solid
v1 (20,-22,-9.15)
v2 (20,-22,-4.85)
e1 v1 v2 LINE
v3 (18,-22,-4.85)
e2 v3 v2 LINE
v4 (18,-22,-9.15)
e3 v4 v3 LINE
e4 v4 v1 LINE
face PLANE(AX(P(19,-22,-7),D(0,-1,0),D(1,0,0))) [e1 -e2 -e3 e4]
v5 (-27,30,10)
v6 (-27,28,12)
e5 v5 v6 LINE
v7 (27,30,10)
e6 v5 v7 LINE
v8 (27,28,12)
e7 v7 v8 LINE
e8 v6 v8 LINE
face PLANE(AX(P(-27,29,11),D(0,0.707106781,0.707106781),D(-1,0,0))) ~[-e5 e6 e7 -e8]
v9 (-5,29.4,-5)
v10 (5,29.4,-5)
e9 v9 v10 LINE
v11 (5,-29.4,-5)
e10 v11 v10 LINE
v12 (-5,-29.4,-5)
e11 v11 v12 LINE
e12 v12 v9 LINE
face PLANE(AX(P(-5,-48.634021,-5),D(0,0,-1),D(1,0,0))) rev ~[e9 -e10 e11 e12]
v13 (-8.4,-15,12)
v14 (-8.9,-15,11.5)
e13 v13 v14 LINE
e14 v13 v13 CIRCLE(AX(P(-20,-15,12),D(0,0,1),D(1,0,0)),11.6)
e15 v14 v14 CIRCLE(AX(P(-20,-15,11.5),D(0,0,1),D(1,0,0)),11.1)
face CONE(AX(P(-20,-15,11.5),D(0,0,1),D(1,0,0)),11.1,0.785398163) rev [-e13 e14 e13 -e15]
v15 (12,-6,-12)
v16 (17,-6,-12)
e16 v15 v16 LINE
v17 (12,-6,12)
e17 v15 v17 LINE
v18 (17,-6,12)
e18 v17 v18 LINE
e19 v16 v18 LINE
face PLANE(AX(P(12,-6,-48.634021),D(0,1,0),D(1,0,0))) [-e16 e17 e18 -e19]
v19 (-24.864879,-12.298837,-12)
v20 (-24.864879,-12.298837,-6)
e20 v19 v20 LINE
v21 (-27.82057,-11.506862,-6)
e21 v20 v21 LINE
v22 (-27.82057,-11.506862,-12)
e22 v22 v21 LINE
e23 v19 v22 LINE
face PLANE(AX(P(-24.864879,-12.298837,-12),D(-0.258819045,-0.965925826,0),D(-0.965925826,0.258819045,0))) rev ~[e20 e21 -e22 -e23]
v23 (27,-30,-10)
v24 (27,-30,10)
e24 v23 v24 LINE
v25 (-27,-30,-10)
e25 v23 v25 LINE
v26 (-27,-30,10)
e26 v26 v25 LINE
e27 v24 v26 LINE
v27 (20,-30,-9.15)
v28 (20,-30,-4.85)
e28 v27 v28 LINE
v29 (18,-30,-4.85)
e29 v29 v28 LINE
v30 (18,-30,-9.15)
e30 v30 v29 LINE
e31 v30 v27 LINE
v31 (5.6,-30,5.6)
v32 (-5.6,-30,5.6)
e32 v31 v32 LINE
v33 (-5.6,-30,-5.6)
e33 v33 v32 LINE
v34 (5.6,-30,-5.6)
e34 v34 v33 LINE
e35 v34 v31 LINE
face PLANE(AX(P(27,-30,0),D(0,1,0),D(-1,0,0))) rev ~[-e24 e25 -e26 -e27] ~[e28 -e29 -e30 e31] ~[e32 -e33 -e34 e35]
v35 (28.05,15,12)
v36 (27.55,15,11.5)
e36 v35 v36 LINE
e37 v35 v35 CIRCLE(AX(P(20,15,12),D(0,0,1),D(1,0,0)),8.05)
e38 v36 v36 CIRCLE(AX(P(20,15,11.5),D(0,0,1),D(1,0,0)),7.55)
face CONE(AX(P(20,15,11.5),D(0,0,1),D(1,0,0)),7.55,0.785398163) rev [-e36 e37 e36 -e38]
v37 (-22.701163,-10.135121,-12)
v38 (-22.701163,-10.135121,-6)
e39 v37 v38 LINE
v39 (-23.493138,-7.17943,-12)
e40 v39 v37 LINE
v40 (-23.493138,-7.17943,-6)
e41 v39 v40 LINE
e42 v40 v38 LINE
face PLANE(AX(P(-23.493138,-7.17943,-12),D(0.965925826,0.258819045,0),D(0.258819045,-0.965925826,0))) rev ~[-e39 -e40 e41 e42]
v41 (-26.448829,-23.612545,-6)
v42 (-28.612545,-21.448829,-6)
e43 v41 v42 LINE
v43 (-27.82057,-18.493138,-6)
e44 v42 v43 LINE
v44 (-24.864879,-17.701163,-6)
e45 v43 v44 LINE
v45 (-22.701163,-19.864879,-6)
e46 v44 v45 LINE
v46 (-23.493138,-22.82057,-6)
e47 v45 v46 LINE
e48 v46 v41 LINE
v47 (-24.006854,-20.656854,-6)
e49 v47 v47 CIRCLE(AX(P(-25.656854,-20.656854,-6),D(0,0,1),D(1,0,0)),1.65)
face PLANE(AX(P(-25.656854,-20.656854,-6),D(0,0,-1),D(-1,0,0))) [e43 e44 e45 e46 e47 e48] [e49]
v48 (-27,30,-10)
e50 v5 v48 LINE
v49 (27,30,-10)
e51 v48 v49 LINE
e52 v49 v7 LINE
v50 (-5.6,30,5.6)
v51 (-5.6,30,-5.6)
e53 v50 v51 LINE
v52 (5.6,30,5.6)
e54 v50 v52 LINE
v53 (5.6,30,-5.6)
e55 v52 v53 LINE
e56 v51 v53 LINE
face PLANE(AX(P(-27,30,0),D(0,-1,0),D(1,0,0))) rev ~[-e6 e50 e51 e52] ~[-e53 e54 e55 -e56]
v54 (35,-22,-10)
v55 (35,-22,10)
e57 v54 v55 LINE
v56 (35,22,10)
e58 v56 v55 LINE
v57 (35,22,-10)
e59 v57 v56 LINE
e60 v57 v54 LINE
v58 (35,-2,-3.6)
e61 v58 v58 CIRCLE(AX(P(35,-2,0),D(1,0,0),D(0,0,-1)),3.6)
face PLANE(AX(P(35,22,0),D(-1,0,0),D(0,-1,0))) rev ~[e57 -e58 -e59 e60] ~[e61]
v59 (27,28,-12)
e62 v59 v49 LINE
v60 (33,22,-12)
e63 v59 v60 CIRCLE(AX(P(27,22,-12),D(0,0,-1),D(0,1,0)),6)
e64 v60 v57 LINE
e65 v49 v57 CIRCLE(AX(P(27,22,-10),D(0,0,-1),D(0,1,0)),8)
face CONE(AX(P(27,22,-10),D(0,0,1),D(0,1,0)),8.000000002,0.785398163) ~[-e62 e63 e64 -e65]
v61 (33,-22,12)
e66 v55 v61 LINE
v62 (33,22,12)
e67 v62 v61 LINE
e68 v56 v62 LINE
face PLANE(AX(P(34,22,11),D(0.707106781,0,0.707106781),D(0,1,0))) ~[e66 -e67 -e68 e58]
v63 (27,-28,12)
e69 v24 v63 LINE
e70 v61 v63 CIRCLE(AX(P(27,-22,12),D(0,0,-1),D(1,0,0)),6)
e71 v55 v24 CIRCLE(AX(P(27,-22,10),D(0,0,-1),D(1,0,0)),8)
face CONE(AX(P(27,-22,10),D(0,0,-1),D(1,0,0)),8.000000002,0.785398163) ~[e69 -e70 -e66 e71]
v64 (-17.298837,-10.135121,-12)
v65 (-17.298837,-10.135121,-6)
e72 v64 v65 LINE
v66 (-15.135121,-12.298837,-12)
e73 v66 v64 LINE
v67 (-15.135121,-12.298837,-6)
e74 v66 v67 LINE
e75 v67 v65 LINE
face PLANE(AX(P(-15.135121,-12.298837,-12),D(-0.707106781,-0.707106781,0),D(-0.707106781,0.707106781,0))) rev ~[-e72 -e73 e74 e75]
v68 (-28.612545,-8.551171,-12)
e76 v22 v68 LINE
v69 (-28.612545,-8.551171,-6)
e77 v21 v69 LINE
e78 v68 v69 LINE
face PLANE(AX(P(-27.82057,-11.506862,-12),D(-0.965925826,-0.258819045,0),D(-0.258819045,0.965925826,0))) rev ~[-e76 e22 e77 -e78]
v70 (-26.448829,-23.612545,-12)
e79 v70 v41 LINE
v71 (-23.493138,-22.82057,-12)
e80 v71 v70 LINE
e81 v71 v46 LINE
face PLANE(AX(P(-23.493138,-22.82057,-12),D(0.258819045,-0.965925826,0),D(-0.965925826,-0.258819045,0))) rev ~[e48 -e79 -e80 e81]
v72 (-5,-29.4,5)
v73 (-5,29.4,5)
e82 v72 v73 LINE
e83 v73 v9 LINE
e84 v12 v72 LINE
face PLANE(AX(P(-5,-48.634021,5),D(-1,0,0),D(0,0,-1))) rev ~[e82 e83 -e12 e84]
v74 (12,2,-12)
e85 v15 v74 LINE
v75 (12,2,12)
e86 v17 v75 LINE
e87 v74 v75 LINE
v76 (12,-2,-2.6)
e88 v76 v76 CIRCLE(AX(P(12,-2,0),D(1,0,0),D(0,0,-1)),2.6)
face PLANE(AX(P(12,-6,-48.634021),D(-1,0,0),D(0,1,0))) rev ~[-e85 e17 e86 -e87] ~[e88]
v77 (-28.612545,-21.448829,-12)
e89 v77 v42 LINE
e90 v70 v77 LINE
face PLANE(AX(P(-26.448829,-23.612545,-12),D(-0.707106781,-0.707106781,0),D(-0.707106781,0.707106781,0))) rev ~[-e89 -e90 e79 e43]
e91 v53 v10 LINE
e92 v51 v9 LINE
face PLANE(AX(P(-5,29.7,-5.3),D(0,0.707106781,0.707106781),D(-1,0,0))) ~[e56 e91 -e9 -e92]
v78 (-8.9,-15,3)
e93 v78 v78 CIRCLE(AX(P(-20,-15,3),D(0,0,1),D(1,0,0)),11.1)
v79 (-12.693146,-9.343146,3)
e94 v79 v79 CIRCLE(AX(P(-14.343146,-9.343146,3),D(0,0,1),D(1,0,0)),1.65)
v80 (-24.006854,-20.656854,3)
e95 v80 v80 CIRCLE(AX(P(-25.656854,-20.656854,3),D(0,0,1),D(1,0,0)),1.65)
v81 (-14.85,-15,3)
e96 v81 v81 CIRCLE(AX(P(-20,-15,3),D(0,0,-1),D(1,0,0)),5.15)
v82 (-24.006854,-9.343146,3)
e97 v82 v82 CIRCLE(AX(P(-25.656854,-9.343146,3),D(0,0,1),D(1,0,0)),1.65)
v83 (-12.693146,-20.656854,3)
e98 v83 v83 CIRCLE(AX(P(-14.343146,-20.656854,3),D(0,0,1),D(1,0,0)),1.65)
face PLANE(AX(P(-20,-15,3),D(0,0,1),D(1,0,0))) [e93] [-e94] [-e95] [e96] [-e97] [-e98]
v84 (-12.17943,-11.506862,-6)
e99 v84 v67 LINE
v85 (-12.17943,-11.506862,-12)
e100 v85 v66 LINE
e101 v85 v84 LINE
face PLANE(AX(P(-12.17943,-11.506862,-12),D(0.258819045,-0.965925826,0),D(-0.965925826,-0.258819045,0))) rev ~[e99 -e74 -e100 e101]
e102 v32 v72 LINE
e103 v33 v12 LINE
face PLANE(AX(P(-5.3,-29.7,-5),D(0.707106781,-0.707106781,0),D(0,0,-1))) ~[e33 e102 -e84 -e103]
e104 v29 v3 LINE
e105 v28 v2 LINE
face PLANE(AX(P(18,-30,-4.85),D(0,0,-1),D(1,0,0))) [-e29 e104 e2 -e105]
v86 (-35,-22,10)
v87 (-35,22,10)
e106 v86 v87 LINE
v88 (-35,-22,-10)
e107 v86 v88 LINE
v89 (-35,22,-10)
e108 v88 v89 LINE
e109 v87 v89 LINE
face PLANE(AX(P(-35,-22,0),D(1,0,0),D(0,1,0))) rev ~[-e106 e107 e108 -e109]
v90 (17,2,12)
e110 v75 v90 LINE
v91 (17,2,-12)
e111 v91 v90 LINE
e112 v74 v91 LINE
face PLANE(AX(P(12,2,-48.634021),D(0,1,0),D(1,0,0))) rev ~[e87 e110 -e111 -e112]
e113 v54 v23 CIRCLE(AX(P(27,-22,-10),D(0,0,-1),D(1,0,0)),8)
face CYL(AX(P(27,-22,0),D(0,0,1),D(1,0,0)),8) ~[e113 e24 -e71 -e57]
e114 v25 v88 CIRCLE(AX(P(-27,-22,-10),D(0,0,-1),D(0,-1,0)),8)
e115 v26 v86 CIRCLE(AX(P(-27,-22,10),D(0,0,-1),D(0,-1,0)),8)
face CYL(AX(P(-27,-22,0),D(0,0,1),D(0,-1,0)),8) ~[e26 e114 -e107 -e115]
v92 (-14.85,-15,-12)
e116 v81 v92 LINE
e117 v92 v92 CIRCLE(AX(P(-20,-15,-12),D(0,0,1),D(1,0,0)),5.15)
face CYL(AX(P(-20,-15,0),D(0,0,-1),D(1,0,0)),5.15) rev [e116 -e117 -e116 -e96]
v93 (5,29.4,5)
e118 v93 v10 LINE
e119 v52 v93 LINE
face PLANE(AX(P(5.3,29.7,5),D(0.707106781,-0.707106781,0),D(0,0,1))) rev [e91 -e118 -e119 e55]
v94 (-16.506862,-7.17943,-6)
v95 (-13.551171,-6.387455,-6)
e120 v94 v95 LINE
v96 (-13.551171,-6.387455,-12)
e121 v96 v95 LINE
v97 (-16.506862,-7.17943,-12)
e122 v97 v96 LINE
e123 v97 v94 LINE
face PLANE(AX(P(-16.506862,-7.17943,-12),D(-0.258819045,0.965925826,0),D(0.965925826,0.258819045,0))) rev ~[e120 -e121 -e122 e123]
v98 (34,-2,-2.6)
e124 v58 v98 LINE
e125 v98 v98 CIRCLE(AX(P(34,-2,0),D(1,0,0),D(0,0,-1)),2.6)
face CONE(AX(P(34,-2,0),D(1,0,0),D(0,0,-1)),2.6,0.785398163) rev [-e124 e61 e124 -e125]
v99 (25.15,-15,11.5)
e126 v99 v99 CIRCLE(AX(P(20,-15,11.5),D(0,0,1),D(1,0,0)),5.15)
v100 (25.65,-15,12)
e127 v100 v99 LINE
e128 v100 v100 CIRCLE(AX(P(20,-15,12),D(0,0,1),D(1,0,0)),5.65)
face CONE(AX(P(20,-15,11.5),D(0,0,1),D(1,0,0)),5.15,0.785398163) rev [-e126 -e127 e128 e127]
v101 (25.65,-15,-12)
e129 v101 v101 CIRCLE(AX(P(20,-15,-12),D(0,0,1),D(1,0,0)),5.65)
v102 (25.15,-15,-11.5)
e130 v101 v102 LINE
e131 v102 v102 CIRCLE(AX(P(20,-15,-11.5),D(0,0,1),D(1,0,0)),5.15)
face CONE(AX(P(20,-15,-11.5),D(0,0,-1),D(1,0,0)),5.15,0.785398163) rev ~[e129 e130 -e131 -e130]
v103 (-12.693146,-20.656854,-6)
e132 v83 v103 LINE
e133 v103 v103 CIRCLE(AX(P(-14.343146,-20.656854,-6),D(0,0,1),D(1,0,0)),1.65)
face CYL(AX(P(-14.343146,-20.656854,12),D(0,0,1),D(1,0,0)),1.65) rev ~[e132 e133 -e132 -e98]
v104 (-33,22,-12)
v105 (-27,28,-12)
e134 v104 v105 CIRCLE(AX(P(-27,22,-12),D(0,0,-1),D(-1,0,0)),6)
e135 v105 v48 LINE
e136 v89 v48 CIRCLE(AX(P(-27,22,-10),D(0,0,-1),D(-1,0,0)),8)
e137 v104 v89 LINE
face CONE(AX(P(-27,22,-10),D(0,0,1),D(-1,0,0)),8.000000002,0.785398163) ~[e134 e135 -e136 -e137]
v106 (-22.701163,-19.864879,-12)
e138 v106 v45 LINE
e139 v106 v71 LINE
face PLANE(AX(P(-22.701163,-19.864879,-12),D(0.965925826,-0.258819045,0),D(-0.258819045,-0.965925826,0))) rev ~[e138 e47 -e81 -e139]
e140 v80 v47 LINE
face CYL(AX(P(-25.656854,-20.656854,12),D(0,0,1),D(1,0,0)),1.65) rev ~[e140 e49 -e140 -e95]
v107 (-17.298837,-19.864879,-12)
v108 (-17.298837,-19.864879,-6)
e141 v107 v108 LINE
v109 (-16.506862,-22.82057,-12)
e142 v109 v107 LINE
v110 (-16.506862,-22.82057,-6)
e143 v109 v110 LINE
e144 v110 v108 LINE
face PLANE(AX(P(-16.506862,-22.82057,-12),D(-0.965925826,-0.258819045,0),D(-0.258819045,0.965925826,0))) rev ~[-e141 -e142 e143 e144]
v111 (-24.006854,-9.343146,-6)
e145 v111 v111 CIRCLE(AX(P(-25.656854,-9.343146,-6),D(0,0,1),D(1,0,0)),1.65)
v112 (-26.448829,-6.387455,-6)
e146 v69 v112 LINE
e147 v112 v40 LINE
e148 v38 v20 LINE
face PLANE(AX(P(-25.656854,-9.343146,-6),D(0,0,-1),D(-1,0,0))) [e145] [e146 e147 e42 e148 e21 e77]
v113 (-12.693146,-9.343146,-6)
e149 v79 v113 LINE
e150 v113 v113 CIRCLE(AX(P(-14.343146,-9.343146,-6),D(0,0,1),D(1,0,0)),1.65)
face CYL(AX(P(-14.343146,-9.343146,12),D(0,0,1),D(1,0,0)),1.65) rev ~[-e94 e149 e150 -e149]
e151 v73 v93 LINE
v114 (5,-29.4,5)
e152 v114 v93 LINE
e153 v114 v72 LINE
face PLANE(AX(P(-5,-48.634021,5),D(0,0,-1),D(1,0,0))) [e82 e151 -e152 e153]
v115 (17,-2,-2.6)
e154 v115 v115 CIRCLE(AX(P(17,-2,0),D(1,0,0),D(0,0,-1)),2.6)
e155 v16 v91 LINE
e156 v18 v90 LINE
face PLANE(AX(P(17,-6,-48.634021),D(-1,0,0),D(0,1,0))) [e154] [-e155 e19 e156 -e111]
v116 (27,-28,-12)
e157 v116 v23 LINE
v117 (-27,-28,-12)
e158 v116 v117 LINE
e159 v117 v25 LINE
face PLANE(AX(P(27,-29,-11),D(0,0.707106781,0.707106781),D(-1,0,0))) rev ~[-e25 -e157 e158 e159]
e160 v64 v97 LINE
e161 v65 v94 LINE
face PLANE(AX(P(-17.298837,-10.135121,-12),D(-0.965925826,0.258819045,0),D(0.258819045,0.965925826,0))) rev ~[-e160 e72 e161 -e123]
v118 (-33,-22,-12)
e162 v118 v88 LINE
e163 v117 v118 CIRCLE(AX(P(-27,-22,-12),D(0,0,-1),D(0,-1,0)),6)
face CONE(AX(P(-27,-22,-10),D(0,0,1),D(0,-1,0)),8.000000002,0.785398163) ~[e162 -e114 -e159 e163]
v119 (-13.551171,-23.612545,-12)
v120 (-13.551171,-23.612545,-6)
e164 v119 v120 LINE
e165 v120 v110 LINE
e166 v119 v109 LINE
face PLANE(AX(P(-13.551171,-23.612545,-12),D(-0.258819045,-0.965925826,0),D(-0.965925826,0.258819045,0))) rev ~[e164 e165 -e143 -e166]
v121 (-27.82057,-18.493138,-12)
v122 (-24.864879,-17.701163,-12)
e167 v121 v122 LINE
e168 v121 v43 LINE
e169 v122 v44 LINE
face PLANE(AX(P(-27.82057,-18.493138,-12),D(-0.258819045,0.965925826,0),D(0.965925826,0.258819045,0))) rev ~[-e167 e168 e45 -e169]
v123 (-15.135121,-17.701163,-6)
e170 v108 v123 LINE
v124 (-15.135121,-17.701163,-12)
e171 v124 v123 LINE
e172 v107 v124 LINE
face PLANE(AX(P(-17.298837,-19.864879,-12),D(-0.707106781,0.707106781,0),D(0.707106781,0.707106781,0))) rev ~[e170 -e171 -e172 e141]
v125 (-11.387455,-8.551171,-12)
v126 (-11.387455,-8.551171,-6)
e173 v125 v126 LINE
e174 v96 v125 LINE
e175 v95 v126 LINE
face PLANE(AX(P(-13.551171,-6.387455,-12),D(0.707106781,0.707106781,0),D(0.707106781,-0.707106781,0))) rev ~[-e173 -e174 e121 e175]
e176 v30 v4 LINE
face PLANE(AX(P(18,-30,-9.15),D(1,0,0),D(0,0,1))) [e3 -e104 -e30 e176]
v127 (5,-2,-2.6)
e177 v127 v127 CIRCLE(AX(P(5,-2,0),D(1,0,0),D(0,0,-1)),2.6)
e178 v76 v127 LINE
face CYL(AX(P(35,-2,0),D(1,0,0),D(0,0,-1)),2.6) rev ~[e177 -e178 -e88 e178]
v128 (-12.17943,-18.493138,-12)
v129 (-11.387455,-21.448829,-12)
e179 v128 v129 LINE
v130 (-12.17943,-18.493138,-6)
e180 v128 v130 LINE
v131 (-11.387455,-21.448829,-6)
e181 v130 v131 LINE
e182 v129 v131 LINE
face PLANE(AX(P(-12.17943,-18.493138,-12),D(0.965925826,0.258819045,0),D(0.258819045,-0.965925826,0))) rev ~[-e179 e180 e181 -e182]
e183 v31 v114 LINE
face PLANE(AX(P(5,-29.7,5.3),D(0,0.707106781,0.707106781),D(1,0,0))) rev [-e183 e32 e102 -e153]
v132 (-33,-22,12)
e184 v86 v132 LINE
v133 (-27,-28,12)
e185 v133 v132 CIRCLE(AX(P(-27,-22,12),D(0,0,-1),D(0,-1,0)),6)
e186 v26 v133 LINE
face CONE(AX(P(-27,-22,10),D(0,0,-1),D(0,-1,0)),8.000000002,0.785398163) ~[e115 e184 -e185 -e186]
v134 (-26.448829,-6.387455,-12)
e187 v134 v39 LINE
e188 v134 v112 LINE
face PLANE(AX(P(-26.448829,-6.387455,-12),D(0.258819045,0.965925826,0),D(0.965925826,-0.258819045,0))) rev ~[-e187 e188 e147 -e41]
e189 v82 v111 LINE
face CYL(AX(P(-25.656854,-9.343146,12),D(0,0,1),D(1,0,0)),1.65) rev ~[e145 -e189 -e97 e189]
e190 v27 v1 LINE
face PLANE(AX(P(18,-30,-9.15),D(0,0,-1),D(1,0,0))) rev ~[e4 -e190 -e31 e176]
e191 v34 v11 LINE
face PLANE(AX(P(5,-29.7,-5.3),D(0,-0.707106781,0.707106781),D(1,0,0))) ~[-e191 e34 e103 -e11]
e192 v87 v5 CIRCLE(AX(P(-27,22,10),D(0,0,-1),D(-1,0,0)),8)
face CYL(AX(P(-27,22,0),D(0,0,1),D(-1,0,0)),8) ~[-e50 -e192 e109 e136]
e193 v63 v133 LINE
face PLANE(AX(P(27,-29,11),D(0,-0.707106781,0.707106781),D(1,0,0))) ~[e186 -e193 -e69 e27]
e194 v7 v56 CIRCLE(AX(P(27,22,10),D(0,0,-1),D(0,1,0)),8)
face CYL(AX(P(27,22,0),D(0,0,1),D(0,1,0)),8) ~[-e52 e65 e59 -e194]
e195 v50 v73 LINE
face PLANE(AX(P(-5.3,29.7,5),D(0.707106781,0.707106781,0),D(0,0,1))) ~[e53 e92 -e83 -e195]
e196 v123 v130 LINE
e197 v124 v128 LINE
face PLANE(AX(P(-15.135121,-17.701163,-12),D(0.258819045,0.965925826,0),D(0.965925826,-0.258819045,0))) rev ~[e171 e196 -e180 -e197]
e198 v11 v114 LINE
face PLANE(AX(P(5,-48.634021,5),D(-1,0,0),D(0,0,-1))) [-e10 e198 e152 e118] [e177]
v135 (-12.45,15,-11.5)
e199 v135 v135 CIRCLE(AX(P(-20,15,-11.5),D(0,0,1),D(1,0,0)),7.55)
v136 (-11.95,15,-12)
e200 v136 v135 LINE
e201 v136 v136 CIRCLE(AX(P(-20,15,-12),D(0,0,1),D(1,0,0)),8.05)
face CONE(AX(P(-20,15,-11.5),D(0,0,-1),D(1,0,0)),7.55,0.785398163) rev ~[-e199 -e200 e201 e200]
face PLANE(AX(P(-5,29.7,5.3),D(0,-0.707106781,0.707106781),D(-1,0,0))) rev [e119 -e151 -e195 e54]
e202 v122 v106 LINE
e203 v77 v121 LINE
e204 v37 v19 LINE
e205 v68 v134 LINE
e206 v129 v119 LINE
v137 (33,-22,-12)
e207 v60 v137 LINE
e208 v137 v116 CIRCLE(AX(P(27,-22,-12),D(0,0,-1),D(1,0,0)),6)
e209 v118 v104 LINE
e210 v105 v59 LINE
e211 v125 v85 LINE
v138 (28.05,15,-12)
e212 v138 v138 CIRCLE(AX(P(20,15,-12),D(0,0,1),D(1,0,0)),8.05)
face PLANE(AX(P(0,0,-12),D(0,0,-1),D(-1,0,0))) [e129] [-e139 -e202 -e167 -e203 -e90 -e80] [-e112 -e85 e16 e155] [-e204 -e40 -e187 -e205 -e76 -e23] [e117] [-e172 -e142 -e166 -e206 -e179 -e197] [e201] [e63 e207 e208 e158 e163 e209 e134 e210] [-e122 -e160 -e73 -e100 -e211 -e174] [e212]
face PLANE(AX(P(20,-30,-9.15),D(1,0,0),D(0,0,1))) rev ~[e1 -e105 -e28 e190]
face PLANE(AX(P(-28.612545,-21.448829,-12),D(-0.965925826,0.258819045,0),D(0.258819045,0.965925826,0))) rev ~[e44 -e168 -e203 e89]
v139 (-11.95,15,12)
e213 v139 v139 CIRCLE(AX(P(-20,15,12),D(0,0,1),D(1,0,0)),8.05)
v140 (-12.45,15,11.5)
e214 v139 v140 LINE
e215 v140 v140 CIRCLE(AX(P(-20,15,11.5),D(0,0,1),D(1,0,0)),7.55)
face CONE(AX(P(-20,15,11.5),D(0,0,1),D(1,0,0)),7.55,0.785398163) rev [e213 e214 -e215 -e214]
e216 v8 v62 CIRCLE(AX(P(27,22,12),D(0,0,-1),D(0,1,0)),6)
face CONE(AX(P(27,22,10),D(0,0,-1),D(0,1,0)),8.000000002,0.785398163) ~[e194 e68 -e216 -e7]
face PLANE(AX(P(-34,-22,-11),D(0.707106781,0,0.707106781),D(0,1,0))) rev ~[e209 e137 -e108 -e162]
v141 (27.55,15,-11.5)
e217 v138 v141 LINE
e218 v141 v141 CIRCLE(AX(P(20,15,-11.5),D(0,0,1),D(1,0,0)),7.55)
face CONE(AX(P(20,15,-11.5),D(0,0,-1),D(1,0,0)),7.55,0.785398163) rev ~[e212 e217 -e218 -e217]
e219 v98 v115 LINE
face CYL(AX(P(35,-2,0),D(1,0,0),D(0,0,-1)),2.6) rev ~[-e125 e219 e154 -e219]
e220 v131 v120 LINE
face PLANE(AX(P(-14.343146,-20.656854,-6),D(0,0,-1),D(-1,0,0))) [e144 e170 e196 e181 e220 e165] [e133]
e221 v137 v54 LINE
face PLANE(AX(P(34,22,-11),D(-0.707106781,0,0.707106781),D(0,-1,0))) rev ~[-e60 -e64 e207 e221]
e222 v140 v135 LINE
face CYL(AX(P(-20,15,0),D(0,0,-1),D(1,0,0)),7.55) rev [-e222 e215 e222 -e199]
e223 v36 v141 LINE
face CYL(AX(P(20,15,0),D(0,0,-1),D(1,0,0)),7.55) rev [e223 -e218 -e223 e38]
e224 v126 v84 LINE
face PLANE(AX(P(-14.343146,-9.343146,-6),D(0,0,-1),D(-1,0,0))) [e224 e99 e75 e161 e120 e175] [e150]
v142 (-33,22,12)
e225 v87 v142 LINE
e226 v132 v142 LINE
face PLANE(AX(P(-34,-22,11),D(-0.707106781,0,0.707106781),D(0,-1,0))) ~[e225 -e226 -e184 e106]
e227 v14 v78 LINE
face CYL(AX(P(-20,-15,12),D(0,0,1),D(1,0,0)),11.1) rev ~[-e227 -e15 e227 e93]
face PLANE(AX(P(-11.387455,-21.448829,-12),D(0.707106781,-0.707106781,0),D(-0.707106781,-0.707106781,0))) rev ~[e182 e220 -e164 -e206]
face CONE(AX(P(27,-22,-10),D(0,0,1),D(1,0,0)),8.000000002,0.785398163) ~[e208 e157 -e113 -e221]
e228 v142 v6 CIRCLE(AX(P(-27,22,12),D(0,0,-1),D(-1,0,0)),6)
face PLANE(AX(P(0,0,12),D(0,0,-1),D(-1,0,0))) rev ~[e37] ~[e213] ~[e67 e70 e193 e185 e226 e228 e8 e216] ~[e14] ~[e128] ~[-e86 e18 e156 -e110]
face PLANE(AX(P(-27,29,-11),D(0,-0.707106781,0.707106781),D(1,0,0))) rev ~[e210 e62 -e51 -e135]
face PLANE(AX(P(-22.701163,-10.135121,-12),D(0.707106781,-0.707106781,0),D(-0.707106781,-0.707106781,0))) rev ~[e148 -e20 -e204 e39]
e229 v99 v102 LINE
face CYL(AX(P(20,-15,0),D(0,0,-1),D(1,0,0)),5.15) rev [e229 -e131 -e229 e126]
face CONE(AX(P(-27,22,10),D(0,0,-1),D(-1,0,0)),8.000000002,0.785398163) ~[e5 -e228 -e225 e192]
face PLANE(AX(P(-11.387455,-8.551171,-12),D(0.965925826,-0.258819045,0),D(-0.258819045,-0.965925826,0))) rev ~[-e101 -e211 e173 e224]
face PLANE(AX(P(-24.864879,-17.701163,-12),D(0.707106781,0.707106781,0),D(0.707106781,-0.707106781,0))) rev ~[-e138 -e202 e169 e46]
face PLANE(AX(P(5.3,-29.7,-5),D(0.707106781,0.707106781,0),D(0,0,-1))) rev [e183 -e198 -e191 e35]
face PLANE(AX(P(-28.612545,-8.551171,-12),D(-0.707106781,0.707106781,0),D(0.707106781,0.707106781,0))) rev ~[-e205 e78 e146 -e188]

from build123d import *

# Parameters (mm, degrees)
SKETCH1_R               = 7.55
SKETCH1_R_2             = 5.15
BOSS_EXTRUDE1_DEPTH     = 12
SKETCH2_R               = 11.1
CUT_EXTRUDE1_DEPTH      = 9
SKETCH3_R               = 1.65
CUT_EXTRUDE2_DEPTH      = 52.971145841
CUT_EXTRUDE3_DEPTH      = 6
CUT_EXTRUDE4_DEPTH      = 48.634021455
CUT_EXTRUDE4_DEPTH_BACK = 48.634021455
SKETCH5_W               = 10
SKETCH5_H               = 10
CHAMFER1_SIZE           = 2
CHAMFER2_SIZE           = 0.5
SKETCH7_R               = 2.6
CUT_EXTRUDE6_DEPTH      = 33
CUT_EXTRUDE7_DEPTH      = 48.634021455
CUT_EXTRUDE7_DEPTH_BACK = 48.634021455
SKETCH8_W               = 5
SKETCH8_H               = 8
CHAMFER3_SIZE           = 1
CHAMFER4_SIZE           = 0.6
SKETCH9_W               = 2
SKETCH9_H               = 4.3
CUT_EXTRUDE8_DEPTH      = 8


with BuildPart() as part:
    # Sketch1 → Boss-Extrude1 (new, symmetric)
    with BuildSketch(Plane.XY):
        with BuildLine():
            Line((27, -30), (-27, -30))
            ThreePointArc((-27, -30), (-32.656854249, -27.656854249), (-35, -22))
            Line((-35, -22), (-35, 22))
            ThreePointArc((-35, 22), (-32.656854249, 27.656854249), (-27, 30))
            Line((-27, 30), (27, 30))
            ThreePointArc((27, 30), (32.656854249, 27.656854249), (35, 22))
            Line((35, 22), (35, -22))
            ThreePointArc((35, -22), (32.656854249, -27.656854249), (27, -30))
        make_face()
        with Locations((-20, 15)):
            Circle(SKETCH1_R, mode=Mode.SUBTRACT)
        with Locations((20, 15)):
            Circle(SKETCH1_R, mode=Mode.SUBTRACT)
        with Locations((20, -15)):
            Circle(SKETCH1_R_2, mode=Mode.SUBTRACT)
        with Locations((-20, -15)):
            Circle(SKETCH1_R_2, mode=Mode.SUBTRACT)
    extrude(amount=BOSS_EXTRUDE1_DEPTH, both=True)

    # Sketch2 → Cut-Extrude1 (cut)
    with BuildSketch(Plane.XY.offset(12)):
        with Locations((-20, -15)):
            Circle(SKETCH2_R)
    extrude(amount=-CUT_EXTRUDE1_DEPTH, mode=Mode.SUBTRACT)

    # Sketch3 → Cut-Extrude2 (cut, through all)
    with BuildSketch(Plane.XY.offset(12)):
        with Locations((-25.656854249, -9.343145751)):
            Circle(SKETCH3_R)
        with Locations((-14.343145751, -9.343145751)):
            Circle(SKETCH3_R)
        with Locations((-14.343145751, -20.656854249)):
            Circle(SKETCH3_R)
        with Locations((-25.656854249, -20.656854249)):
            Circle(SKETCH3_R)
    extrude(amount=-CUT_EXTRUDE2_DEPTH, mode=Mode.SUBTRACT)

    # Sketch4 → Cut-Extrude3 (cut)
    with BuildSketch(Plane(origin=(0, 0, -12), x_dir=(-1, 0, 0), z_dir=(0, 0, -1))):
        Polygon((17.29883669, -10.135120751), (16.50686169, -7.179429811), (13.55117075, -6.387454811), (11.387454811, -8.55117075), (12.179429811, -11.50686169), (15.135120751, -12.29883669), align=None)
        Polygon((23.49313831, -7.179429811), (22.70116331, -10.135120751), (24.864879249, -12.29883669), (27.820570189, -11.50686169), (28.612545189, -8.55117075), (26.44882925, -6.387454811), align=None)
        Polygon((24.864879249, -17.70116331), (22.70116331, -19.864879249), (23.49313831, -22.820570189), (26.44882925, -23.612545189), (28.612545189, -21.44882925), (27.820570189, -18.49313831), align=None)
        Polygon((15.135120751, -17.70116331), (12.179429811, -18.49313831), (11.387454811, -21.44882925), (13.55117075, -23.612545189), (16.50686169, -22.820570189), (17.29883669, -19.864879249), align=None)
    extrude(amount=-CUT_EXTRUDE3_DEPTH, mode=Mode.SUBTRACT)

    # Sketch5 → Cut-Extrude4 (cut, two sides: drawn at the far end of the back side and taken through both)
    with BuildSketch(Plane(origin=(0, 0, 0), x_dir=(1, 0, 0), z_dir=(0, 1, 0)).offset(-CUT_EXTRUDE4_DEPTH_BACK)):
        Rectangle(SKETCH5_W, SKETCH5_H)
    extrude(amount=CUT_EXTRUDE4_DEPTH + CUT_EXTRUDE4_DEPTH_BACK, mode=Mode.SUBTRACT)

    # Chamfer1
    chamfer1_edges = [part.edges().sort_by_distance(p)[0] for p in [
        (35, 0, -12),
        (32.656854249, -27.656854249, -12),
        (0, -30, -12),
        (-32.656854249, -27.656854249, -12),
        (32.656854249, -27.656854249, 12),
        (35, 0, 12),
        (32.656854249, 27.656854249, 12),
        (0, 30, 12),
        (-32.656854249, 27.656854249, 12),
        (-35, 0, 12),
        (-32.656854249, -27.656854249, 12),
        (-35, 0, -12),
        (0, -30, 12),
        (-32.656854249, 27.656854249, -12),
        (0, 30, -12),
        (32.656854249, 27.656854249, -12),
    ]]
    chamfer(chamfer1_edges, length=CHAMFER1_SIZE)

    # Chamfer2
    chamfer2_edges = [part.edges().sort_by_distance(p)[0] for p in [
        (-27.55, 15, -12),
        (-27.55, 15, 12),
        (12.45, 15, -12),
        (12.45, 15, 12),
        (14.85, -15, -12),
        (14.85, -15, 12),
        (-31.1, -15, 12),
    ]]
    chamfer(chamfer2_edges, length=CHAMFER2_SIZE)

    # Sketch7 → Cut-Extrude6 (cut)
    with BuildSketch(Plane(origin=(35, 0, 0), x_dir=(0, 0, -1), z_dir=(1, 0, 0))):
        with Locations((0, -2)):
            Circle(SKETCH7_R)
    extrude(amount=-CUT_EXTRUDE6_DEPTH, mode=Mode.SUBTRACT)

    # Sketch8 → Cut-Extrude7 (cut, two sides: drawn at the far end of the back side and taken through both)
    with BuildSketch(Plane.XY.offset(-CUT_EXTRUDE7_DEPTH_BACK)):
        with Locations((14.5, -2)):
            Rectangle(SKETCH8_W, SKETCH8_H)
    extrude(amount=CUT_EXTRUDE7_DEPTH + CUT_EXTRUDE7_DEPTH_BACK, mode=Mode.SUBTRACT)

    # Chamfer3
    chamfer3_edges = [part.edges().sort_by_distance(p)[0] for p in [
        (35, -2, 2.6),
    ]]
    chamfer(chamfer3_edges, length=CHAMFER3_SIZE)

    # Chamfer4
    chamfer4_edges = [part.edges().sort_by_distance(p)[0] for p in [
        (-5, -30, 0),
        (0, -30, -5),
        (5, -30, 0),
        (0, -30, 5),
        (-5, 30, 0),
        (0, 30, 5),
        (5, 30, 0),
        (0, 30, -5),
    ]]
    chamfer(chamfer4_edges, length=CHAMFER4_SIZE)

    # Sketch9 → Cut-Extrude8 (cut)
    with BuildSketch(Plane.XZ.offset(30)):
        with Locations((19, -7)):
            Rectangle(SKETCH9_W, SKETCH9_H)
    extrude(amount=-CUT_EXTRUDE8_DEPTH, mode=Mode.SUBTRACT)


solid = part.part
